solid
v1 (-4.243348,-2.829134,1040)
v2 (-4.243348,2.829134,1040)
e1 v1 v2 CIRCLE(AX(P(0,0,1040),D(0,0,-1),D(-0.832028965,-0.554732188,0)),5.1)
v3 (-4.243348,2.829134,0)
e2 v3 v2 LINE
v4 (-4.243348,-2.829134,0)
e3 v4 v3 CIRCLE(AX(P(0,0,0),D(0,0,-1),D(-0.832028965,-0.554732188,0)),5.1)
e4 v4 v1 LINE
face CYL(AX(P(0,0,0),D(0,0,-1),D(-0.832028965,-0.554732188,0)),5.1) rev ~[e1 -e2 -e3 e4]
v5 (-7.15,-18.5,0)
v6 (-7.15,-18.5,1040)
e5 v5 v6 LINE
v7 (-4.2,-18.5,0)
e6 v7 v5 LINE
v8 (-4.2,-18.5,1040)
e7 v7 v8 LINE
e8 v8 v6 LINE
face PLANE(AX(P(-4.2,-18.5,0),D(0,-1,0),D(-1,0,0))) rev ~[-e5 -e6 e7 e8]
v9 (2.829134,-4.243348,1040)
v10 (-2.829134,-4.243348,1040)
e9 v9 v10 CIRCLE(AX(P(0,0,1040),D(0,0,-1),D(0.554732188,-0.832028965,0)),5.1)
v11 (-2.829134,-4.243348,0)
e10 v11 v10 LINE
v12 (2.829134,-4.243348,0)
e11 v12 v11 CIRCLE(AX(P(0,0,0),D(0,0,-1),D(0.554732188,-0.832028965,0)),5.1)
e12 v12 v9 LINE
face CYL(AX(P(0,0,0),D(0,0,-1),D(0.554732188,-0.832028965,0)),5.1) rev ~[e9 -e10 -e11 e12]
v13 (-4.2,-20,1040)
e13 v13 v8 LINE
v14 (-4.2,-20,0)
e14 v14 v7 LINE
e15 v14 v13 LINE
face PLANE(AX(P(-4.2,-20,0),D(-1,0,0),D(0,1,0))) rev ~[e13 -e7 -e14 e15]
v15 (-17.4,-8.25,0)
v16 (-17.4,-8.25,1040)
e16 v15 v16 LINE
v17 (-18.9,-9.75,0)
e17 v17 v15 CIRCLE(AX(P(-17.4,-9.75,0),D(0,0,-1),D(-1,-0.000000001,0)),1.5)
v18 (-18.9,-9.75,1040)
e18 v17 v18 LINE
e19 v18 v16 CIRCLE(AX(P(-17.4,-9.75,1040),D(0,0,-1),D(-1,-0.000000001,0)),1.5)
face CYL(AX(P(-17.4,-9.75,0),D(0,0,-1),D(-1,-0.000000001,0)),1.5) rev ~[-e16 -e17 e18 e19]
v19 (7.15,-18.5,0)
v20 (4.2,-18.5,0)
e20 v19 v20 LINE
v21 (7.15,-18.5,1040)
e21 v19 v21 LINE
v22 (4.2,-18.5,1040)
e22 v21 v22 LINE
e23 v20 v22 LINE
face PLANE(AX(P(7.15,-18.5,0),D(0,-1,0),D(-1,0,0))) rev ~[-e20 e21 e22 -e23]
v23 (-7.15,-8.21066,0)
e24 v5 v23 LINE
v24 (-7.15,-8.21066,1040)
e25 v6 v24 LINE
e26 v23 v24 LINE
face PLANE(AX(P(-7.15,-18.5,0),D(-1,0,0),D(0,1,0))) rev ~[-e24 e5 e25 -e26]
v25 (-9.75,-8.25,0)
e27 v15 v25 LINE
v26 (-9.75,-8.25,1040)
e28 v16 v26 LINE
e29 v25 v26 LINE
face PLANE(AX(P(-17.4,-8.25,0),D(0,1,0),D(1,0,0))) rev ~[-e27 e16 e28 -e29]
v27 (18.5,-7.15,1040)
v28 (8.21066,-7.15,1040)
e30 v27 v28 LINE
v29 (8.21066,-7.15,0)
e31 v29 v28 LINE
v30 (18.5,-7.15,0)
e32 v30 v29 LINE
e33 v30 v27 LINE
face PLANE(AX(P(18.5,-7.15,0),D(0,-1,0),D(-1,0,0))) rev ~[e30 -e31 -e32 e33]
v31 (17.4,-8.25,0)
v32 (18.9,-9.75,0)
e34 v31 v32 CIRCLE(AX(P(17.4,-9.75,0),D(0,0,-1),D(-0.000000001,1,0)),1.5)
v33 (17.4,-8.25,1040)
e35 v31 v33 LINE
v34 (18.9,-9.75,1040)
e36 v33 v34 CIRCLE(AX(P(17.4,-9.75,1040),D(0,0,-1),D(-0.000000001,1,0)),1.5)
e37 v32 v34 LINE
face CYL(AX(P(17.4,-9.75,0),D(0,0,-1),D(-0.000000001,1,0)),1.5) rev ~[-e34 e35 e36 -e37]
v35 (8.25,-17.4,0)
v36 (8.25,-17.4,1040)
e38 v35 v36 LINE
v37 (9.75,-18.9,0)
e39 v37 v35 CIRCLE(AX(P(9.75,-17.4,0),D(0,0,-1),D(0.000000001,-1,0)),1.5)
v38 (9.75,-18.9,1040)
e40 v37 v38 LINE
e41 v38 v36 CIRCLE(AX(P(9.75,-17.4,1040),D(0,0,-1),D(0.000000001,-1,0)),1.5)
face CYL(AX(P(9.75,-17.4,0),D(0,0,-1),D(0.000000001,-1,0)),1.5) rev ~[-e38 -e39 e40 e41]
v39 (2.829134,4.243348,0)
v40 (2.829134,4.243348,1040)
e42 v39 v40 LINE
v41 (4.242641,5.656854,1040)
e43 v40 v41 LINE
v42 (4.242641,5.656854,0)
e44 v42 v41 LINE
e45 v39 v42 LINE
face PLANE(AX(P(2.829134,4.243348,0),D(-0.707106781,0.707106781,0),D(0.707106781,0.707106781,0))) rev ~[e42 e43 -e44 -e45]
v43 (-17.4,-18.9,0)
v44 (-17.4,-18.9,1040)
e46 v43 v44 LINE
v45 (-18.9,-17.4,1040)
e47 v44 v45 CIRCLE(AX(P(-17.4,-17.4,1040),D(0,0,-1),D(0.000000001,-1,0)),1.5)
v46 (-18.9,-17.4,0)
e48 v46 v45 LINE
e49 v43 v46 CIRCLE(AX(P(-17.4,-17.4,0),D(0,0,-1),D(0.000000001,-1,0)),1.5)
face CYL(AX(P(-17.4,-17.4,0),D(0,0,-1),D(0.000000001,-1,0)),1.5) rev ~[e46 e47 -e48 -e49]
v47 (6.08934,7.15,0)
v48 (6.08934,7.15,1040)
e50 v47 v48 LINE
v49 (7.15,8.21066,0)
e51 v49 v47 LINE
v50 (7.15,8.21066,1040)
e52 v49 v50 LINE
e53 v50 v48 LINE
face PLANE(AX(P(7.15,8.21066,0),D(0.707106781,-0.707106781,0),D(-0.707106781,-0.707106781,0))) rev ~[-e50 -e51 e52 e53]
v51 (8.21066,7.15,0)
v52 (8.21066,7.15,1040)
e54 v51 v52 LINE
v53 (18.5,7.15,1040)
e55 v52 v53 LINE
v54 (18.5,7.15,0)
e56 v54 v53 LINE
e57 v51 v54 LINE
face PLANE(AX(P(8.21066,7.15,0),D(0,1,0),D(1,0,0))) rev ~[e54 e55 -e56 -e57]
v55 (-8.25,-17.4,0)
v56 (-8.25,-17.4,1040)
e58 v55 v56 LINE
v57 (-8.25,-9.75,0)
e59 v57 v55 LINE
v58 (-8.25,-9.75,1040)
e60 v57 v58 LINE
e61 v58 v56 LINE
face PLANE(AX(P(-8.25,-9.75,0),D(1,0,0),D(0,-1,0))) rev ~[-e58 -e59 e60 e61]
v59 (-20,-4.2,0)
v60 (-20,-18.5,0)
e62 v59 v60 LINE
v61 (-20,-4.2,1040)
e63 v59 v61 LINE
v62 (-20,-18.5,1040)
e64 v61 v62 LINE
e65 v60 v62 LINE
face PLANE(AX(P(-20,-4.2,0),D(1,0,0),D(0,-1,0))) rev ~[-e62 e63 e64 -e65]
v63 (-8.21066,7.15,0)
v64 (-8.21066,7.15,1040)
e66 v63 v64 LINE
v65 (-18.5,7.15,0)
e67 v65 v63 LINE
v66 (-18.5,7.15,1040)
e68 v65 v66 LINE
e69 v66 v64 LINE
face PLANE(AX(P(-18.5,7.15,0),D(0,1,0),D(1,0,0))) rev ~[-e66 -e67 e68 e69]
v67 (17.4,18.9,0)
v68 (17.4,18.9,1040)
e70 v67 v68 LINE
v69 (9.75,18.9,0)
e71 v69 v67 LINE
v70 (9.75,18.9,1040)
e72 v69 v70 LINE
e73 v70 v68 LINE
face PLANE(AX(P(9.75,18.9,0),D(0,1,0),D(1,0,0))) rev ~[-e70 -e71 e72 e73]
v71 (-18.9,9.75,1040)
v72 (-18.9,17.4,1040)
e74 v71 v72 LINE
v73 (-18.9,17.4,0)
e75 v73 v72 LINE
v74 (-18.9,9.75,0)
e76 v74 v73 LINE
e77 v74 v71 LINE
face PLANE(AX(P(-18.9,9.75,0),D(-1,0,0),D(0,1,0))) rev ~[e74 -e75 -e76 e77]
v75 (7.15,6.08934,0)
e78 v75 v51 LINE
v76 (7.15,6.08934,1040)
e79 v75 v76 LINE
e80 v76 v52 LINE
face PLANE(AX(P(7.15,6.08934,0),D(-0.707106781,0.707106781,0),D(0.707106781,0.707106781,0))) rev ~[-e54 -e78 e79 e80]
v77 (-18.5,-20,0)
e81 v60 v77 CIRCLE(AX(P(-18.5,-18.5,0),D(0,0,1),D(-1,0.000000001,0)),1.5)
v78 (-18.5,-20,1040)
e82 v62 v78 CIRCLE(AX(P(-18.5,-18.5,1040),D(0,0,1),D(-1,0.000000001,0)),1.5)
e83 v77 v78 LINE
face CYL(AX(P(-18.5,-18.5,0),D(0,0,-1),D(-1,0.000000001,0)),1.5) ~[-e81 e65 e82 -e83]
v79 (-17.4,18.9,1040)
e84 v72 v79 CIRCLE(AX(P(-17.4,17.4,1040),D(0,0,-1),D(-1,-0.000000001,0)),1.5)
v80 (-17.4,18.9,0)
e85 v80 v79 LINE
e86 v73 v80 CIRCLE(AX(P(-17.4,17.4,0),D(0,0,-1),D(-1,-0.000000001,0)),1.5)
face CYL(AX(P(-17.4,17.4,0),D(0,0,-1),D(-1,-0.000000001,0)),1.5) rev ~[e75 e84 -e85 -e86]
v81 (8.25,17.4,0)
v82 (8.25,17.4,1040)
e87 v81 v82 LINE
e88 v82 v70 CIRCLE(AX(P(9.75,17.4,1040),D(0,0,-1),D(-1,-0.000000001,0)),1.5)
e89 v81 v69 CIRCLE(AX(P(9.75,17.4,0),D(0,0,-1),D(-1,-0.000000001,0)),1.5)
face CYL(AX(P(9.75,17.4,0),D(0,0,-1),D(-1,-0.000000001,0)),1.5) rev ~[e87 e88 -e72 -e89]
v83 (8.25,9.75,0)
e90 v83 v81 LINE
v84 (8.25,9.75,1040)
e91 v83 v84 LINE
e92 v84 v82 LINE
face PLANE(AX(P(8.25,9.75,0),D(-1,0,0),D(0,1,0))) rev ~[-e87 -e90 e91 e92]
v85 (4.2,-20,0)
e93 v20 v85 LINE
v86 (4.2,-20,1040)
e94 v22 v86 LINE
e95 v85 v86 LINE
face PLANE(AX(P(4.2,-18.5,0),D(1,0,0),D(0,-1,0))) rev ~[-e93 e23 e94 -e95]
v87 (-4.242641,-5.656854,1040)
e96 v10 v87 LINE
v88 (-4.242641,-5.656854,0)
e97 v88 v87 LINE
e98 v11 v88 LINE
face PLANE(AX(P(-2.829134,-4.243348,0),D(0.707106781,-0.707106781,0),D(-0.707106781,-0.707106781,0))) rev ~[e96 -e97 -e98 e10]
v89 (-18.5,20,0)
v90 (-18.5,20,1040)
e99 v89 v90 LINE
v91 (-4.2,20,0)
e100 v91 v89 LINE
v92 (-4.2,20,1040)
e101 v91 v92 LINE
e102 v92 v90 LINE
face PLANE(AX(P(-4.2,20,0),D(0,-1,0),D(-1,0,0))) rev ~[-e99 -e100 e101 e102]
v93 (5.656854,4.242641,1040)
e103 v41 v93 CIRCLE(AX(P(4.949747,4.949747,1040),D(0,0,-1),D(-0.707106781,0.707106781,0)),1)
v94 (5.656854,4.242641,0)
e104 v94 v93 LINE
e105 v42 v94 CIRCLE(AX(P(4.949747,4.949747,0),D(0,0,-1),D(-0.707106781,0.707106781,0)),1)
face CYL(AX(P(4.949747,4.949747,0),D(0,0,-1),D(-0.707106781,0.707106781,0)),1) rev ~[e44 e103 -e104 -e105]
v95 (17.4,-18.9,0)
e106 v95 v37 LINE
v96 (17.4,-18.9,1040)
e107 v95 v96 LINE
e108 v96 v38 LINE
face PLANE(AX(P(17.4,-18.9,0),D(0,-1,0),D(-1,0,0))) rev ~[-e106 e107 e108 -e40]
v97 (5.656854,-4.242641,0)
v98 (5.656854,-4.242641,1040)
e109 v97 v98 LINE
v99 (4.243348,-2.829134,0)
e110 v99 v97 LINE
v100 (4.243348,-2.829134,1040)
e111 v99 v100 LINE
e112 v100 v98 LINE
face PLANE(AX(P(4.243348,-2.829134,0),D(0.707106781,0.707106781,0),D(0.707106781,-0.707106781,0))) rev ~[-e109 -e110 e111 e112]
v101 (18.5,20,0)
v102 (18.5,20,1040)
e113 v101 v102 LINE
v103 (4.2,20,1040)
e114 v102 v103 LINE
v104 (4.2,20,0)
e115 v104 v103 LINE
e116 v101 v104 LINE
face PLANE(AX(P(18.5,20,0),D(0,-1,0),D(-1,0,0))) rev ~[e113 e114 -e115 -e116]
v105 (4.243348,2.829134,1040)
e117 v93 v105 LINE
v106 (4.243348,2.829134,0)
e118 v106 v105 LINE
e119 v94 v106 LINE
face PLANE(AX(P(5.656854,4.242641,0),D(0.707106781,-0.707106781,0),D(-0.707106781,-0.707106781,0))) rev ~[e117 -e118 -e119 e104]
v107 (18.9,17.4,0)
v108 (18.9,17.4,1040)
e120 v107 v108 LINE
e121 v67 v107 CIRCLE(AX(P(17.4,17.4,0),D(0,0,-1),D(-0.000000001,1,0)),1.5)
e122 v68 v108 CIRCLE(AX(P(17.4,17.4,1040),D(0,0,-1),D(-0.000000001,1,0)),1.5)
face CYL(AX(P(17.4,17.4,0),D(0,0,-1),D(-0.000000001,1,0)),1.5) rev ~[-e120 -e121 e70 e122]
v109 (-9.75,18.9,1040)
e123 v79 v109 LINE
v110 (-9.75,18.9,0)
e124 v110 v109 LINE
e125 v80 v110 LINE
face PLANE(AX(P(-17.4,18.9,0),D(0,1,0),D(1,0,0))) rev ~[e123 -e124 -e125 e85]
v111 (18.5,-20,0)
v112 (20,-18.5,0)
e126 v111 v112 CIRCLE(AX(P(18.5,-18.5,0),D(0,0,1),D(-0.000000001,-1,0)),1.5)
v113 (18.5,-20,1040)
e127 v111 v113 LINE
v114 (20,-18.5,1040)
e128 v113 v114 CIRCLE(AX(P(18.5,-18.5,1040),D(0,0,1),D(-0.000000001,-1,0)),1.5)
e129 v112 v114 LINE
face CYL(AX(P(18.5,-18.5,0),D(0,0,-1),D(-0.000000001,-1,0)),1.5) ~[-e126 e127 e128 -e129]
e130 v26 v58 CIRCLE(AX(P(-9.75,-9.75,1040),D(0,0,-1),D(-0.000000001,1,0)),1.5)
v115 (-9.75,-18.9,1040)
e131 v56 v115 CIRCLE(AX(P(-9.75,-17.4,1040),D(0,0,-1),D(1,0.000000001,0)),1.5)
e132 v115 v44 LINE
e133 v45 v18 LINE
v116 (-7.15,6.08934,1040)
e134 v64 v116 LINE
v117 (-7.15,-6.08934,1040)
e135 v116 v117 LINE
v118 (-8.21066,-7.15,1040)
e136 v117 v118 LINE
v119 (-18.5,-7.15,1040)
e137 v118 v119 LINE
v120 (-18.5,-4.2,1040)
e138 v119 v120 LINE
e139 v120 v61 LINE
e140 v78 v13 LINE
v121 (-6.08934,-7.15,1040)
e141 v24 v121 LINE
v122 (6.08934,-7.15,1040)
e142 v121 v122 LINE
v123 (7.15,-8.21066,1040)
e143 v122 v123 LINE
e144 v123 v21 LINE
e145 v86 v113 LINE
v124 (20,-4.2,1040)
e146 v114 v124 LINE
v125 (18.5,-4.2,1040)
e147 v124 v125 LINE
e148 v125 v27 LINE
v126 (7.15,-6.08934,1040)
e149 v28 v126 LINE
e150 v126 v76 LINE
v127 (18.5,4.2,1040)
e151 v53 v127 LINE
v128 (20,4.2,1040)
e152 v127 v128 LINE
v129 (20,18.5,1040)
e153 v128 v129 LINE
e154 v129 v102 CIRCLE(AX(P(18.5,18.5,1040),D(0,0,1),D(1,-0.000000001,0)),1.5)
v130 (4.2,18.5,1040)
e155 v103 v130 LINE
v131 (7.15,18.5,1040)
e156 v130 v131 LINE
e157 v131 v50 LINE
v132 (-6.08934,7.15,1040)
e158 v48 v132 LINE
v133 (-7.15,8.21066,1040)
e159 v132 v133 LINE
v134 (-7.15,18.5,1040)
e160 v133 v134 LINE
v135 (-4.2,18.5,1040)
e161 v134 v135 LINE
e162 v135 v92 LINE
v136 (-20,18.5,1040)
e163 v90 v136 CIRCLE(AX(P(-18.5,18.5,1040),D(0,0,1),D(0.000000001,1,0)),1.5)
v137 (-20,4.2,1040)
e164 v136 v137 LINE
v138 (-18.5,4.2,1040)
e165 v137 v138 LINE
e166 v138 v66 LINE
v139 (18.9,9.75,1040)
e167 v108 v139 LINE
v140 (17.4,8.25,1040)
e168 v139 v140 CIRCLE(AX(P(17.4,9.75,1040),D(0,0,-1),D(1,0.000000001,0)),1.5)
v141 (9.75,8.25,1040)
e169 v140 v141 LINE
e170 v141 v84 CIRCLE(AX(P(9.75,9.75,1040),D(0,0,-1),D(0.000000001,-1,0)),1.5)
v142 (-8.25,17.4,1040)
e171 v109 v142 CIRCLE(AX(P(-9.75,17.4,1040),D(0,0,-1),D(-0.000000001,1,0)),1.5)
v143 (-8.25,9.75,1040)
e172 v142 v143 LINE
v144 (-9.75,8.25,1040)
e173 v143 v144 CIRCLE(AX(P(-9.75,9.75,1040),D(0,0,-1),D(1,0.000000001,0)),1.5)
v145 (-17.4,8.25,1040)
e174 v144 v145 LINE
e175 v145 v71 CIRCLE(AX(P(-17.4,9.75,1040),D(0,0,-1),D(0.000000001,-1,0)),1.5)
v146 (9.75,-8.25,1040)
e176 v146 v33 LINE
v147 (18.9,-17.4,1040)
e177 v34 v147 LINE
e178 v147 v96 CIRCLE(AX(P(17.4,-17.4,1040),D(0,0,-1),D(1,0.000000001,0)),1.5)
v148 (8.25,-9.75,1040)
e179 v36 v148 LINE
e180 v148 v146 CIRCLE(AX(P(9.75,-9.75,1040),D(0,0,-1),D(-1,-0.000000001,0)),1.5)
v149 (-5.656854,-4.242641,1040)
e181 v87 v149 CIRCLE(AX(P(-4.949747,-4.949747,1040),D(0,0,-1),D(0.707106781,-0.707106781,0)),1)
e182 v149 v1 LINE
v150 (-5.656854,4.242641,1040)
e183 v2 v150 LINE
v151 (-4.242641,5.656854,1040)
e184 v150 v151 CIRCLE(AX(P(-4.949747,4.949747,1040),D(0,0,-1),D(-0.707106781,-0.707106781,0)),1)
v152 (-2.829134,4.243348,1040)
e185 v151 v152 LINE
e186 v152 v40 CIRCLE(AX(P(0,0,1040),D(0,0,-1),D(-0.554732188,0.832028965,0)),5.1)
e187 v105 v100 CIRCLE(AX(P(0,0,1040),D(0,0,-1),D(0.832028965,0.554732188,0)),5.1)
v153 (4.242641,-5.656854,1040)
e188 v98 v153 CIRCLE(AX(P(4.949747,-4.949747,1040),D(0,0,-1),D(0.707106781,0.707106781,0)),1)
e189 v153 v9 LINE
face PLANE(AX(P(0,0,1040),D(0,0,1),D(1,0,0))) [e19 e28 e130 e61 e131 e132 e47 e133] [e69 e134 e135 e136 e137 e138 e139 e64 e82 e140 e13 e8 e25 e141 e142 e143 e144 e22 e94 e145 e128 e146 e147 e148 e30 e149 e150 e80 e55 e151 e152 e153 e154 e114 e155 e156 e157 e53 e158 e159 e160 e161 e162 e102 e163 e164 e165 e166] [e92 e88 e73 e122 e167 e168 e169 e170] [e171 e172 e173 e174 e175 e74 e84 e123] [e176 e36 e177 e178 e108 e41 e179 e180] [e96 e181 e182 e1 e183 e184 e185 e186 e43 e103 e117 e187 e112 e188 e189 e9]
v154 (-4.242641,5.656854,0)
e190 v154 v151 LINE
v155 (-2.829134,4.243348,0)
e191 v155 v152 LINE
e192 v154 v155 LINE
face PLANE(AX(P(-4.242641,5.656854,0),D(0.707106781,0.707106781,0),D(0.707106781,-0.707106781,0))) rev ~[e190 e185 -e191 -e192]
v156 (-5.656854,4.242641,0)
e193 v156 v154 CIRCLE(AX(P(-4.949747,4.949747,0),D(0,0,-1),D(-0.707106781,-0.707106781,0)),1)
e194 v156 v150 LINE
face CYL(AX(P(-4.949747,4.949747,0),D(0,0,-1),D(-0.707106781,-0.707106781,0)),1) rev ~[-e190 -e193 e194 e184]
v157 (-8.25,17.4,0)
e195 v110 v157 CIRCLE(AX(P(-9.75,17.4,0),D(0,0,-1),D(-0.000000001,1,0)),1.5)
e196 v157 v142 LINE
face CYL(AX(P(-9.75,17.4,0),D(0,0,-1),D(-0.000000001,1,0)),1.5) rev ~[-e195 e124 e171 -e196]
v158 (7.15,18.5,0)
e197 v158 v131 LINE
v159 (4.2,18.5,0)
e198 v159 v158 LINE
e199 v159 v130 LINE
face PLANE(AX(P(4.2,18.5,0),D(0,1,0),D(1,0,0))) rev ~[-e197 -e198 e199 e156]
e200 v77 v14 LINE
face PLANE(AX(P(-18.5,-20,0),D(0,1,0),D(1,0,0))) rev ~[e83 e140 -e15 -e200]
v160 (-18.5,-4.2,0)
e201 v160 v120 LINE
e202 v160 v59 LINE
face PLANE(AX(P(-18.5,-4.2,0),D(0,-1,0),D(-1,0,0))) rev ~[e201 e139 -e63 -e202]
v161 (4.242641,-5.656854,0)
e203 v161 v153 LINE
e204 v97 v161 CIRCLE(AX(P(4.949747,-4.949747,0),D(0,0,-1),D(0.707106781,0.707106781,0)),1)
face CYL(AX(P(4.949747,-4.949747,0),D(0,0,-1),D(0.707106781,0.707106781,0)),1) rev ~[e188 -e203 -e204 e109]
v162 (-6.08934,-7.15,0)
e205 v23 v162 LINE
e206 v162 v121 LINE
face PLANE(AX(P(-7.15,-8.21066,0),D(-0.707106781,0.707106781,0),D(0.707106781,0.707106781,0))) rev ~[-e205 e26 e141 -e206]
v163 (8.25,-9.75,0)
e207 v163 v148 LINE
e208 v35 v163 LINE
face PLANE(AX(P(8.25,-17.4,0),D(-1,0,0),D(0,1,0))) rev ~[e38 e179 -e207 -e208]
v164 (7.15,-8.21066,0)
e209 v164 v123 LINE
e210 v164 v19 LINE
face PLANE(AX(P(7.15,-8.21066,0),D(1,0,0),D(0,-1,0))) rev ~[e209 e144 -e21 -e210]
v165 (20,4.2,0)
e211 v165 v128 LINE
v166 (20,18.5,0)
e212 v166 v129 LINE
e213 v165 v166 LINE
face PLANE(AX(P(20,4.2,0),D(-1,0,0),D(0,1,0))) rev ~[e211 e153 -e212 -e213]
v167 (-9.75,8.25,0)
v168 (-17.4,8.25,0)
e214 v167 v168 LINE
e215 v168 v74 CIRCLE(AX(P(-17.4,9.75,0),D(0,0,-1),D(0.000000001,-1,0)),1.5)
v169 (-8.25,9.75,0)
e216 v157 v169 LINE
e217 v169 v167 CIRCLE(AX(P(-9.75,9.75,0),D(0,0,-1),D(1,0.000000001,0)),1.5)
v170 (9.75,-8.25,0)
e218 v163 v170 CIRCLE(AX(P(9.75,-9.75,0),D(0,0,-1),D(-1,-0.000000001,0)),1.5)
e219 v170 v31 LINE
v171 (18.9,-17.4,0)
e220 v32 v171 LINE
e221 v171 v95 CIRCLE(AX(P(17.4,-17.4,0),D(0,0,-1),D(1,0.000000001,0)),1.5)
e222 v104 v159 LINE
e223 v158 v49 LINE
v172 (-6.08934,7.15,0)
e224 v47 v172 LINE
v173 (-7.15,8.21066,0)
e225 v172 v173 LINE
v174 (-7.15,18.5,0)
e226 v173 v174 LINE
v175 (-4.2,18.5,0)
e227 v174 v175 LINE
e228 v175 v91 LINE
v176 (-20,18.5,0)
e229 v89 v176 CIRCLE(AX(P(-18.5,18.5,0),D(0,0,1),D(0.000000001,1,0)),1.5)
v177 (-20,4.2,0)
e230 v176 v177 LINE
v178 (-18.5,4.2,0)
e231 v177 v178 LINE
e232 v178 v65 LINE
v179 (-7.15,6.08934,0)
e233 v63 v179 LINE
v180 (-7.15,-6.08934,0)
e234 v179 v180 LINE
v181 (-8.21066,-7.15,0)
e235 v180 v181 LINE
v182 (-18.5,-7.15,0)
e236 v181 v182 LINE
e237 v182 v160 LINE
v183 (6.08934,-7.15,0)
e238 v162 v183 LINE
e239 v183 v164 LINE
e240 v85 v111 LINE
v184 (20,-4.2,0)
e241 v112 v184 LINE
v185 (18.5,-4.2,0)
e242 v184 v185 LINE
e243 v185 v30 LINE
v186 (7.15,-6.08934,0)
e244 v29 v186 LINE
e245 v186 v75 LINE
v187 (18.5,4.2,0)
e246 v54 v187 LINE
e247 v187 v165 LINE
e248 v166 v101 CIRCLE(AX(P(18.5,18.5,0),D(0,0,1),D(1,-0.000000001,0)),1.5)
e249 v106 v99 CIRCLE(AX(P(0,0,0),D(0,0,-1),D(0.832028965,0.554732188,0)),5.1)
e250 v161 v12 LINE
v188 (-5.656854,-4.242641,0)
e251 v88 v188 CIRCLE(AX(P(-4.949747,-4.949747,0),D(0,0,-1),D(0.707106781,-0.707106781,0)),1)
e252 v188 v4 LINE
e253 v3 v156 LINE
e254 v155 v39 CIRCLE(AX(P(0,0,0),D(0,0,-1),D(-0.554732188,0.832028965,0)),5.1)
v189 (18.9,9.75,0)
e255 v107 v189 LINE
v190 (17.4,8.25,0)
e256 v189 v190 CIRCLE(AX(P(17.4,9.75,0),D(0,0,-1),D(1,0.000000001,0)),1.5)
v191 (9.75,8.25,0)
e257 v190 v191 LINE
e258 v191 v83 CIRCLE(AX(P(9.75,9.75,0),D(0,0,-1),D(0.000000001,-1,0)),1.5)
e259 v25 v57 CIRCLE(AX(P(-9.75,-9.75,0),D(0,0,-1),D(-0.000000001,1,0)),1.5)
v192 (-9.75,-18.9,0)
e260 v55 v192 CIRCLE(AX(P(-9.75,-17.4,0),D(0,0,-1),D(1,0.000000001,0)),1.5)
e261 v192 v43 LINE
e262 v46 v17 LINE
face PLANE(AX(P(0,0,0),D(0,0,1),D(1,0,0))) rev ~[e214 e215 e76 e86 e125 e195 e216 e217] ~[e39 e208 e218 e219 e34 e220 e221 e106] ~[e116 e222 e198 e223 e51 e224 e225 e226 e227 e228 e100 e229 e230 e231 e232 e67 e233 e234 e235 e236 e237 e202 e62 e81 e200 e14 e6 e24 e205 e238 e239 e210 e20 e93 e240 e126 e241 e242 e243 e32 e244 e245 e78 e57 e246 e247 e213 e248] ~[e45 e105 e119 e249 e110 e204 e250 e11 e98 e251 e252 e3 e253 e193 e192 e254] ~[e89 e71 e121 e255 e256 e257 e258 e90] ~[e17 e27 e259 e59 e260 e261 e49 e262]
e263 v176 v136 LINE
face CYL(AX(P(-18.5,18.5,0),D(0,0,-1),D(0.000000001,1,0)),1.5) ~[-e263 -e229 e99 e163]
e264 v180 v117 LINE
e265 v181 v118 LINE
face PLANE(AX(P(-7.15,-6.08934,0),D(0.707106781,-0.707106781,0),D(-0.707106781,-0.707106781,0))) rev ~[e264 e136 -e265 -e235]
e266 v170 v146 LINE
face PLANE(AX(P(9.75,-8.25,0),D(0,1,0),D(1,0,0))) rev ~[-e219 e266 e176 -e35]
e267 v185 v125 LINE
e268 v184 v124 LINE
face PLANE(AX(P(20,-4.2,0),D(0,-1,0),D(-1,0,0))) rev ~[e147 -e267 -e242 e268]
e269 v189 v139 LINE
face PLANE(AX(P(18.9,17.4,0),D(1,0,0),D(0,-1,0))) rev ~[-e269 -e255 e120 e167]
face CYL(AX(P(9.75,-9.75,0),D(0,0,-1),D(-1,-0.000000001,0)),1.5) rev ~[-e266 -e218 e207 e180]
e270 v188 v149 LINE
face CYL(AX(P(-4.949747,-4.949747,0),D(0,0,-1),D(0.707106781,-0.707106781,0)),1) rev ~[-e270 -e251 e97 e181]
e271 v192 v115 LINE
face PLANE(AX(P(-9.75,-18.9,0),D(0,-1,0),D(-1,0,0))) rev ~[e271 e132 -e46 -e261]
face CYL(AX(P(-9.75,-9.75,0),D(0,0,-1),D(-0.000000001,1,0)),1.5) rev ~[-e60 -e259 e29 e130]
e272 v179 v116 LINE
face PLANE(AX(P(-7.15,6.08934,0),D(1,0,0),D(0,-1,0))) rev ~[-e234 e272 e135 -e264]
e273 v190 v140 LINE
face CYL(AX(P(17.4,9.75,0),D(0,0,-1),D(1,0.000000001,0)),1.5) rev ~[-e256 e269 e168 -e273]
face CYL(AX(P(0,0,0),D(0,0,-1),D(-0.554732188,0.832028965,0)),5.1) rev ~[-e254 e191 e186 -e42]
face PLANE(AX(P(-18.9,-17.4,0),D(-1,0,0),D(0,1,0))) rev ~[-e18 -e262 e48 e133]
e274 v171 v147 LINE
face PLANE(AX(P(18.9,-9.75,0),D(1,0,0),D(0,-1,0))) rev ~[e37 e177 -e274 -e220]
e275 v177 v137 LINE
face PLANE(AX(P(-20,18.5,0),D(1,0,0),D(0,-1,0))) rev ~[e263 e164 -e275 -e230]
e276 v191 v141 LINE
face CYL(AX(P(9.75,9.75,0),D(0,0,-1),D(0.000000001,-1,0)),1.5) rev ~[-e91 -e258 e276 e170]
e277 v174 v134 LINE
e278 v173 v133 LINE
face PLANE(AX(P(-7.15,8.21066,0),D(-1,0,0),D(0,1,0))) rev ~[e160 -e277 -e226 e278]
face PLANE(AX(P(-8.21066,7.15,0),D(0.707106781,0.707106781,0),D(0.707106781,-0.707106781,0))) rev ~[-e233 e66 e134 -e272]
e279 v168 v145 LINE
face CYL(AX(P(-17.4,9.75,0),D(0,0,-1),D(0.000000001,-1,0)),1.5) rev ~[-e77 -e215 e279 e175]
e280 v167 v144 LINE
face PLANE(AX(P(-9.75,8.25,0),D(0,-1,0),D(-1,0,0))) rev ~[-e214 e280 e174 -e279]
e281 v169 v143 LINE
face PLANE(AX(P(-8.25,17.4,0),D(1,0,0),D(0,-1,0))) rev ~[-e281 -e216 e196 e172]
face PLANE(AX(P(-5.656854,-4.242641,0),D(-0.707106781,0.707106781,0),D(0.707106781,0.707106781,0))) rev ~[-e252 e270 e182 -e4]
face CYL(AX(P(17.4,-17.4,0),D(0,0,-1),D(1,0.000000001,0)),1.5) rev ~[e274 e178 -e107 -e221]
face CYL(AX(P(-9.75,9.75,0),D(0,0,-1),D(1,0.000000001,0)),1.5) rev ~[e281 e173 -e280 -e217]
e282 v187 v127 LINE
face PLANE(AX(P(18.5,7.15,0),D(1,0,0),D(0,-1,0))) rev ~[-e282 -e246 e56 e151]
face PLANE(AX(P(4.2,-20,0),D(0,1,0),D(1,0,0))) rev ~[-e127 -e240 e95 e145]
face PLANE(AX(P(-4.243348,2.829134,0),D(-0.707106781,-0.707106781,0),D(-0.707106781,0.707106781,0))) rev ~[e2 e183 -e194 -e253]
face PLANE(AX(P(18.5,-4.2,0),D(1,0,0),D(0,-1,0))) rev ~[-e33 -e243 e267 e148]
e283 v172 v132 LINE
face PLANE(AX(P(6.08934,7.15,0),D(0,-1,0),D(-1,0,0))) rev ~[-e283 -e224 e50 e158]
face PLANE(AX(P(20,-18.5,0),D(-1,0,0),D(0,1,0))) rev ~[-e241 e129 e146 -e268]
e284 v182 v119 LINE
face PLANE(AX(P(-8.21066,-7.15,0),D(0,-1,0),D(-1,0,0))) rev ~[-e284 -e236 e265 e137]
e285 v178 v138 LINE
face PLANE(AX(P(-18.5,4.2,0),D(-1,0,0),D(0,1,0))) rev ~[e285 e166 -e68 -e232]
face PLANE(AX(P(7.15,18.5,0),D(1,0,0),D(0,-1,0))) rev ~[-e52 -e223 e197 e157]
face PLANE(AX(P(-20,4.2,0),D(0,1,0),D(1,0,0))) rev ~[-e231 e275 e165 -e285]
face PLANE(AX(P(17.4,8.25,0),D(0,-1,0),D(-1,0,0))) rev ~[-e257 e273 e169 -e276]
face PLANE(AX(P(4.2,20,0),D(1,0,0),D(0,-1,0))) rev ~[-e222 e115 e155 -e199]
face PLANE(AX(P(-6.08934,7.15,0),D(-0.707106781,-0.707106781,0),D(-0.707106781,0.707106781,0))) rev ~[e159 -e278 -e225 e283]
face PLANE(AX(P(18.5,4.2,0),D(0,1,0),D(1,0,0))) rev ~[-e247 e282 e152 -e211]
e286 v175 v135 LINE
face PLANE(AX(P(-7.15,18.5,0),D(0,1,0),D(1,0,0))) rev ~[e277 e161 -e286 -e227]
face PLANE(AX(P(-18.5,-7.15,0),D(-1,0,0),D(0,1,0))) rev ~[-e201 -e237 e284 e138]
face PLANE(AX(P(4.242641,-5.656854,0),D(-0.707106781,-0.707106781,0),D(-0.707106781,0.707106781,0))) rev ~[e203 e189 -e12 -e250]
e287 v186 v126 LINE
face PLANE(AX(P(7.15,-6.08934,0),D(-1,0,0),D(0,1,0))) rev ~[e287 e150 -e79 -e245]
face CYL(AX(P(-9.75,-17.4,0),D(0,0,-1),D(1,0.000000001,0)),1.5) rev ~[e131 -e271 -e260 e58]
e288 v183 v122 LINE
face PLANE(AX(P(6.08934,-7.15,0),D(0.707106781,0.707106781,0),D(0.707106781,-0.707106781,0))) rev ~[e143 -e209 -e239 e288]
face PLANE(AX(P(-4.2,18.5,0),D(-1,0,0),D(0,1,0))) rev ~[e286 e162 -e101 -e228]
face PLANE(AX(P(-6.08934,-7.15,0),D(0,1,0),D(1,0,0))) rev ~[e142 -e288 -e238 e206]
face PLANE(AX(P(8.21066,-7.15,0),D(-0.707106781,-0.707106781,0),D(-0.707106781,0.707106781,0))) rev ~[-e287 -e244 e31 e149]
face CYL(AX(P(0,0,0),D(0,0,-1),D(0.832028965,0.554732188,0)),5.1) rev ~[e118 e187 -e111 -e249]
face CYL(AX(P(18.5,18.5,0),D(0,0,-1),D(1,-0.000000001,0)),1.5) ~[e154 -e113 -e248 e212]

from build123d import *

# Parameters (mm, degrees)
EXTRUDE_1_DEPTH = 1040


with BuildPart() as part:
    # 草图1 → 凸台-拉伸1 (new body)
    with BuildSketch(Plane.XY):
        with BuildLine():
            Line((-6.089339828, -7.15), (6.089339828, -7.15))
            Line((6.089339828, -7.15), (7.15, -8.210660172))
            Line((7.15, -8.210660172), (7.15, -18.5))
            Line((7.15, -18.5), (4.2, -18.5))
            Line((4.2, -18.5), (4.2, -20))
            Line((4.2, -20), (18.5, -20))
            ThreePointArc((18.5, -20), (19.560660172, -19.560660172), (20, -18.5))
            Line((20, -18.5), (20, -4.2))
            Line((20, -4.2), (18.5, -4.2))
            Line((18.5, -4.2), (18.5, -7.15))
            Line((18.5, -7.15), (8.210660172, -7.15))
            Line((8.210660172, -7.15), (7.15, -6.089339828))
            Line((7.15, -6.089339828), (7.15, 6.089339828))
            Line((7.15, 6.089339828), (8.210660172, 7.15))
            Line((8.210660172, 7.15), (18.5, 7.15))
            Line((18.5, 7.15), (18.5, 4.2))
            Line((18.5, 4.2), (20, 4.2))
            Line((20, 4.2), (20, 18.5))
            ThreePointArc((20, 18.5), (19.560660172, 19.560660172), (18.5, 20))
            Line((18.5, 20), (4.2, 20))
            Line((4.2, 20), (4.2, 18.5))
            Line((4.2, 18.5), (7.15, 18.5))
            Line((7.15, 18.5), (7.15, 8.210660172))
            Line((7.15, 8.210660172), (6.089339828, 7.15))
            Line((6.089339828, 7.15), (-6.089339828, 7.15))
            Line((-6.089339828, 7.15), (-7.15, 8.210660172))
            Line((-7.15, 8.210660172), (-7.15, 18.5))
            Line((-7.15, 18.5), (-4.2, 18.5))
            Line((-4.2, 18.5), (-4.2, 20))
            Line((-4.2, 20), (-18.5, 20))
            ThreePointArc((-18.5, 20), (-19.560660172, 19.560660172), (-20, 18.5))
            Line((-20, 18.5), (-20, 4.2))
            Line((-20, 4.2), (-18.5, 4.2))
            Line((-18.5, 4.2), (-18.5, 7.15))
            Line((-18.5, 7.15), (-8.210660172, 7.15))
            Line((-8.210660172, 7.15), (-7.15, 6.089339828))
            Line((-7.15, 6.089339828), (-7.15, -6.089339828))
            Line((-7.15, -6.089339828), (-8.210660172, -7.15))
            Line((-8.210660172, -7.15), (-18.5, -7.15))
            Line((-18.5, -7.15), (-18.5, -4.2))
            Line((-18.5, -4.2), (-20, -4.2))
            Line((-20, -4.2), (-20, -18.5))
            ThreePointArc((-20, -18.5), (-19.560660172, -19.560660172), (-18.5, -20))
            Line((-18.5, -20), (-4.2, -20))
            Line((-4.2, -20), (-4.2, -18.5))
            Line((-4.2, -18.5), (-7.15, -18.5))
            Line((-7.15, -18.5), (-7.15, -8.210660172))
            Line((-7.15, -8.210660172), (-6.089339828, -7.15))
        make_face()
        with BuildLine():
            Line((17.4, 8.25), (9.75, 8.25))
            ThreePointArc((9.75, 8.25), (8.689339828, 8.689339828), (8.25, 9.75))
            Line((8.25, 9.75), (8.25, 17.4))
            ThreePointArc((8.25, 17.4), (8.689339828, 18.460660172), (9.75, 18.9))
            Line((9.75, 18.9), (17.4, 18.9))
            ThreePointArc((17.4, 18.9), (18.460660172, 18.460660172), (18.9, 17.4))
            Line((18.9, 17.4), (18.9, 9.75))
            ThreePointArc((18.9, 9.75), (18.460660172, 8.689339828), (17.4, 8.25))
        make_face(mode=Mode.SUBTRACT)
        with BuildLine():
            Line((-8.25, 17.4), (-8.25, 9.75))
            ThreePointArc((-8.25, 9.75), (-8.689339828, 8.689339828), (-9.75, 8.25))
            Line((-9.75, 8.25), (-17.4, 8.25))
            ThreePointArc((-17.4, 8.25), (-18.460660172, 8.689339828), (-18.9, 9.75))
            Line((-18.9, 9.75), (-18.9, 17.4))
            ThreePointArc((-18.9, 17.4), (-18.460660172, 18.460660172), (-17.4, 18.9))
            Line((-17.4, 18.9), (-9.75, 18.9))
            ThreePointArc((-9.75, 18.9), (-8.689339828, 18.460660172), (-8.25, 17.4))
        make_face(mode=Mode.SUBTRACT)
        with BuildLine():
            Line((-17.4, -8.25), (-9.75, -8.25))
            ThreePointArc((-9.75, -8.25), (-8.689339828, -8.689339828), (-8.25, -9.75))
            Line((-8.25, -9.75), (-8.25, -17.4))
            ThreePointArc((-8.25, -17.4), (-8.689339828, -18.460660172), (-9.75, -18.9))
            Line((-9.75, -18.9), (-17.4, -18.9))
            ThreePointArc((-17.4, -18.9), (-18.460660172, -18.460660172), (-18.9, -17.4))
            Line((-18.9, -17.4), (-18.9, -9.75))
            ThreePointArc((-18.9, -9.75), (-18.460660172, -8.689339828), (-17.4, -8.25))
        make_face(mode=Mode.SUBTRACT)
        with BuildLine():
            Line((8.25, -17.4), (8.25, -9.75))
            ThreePointArc((8.25, -9.75), (8.689339828, -8.689339828), (9.75, -8.25))
            Line((9.75, -8.25), (17.4, -8.25))
            ThreePointArc((17.4, -8.25), (18.460660172, -8.689339828), (18.9, -9.75))
            Line((18.9, -9.75), (18.9, -17.4))
            ThreePointArc((18.9, -17.4), (18.460660172, -18.460660172), (17.4, -18.9))
            Line((17.4, -18.9), (9.75, -18.9))
            ThreePointArc((9.75, -18.9), (8.689339828, -18.460660172), (8.25, -17.4))
        make_face(mode=Mode.SUBTRACT)
        with BuildLine():
            Line((-4.243347723, 2.829134161), (-5.656854249, 4.242640687))
            ThreePointArc((-5.656854249, 4.242640687), (-5.656854249, 5.656854249), (-4.242640687, 5.656854249))
            Line((-4.242640687, 5.656854249), (-2.829134161, 4.243347723))
            ThreePointArc((-2.829134161, 4.243347723), (0, 5.1), (2.829134161, 4.243347723))
            Line((2.829134161, 4.243347723), (4.242640687, 5.656854249))
            ThreePointArc((4.242640687, 5.656854249), (5.656854249, 5.656854249), (5.656854249, 4.242640687))
            Line((5.656854249, 4.242640687), (4.243347723, 2.829134161))
            ThreePointArc((4.243347723, 2.829134161), (5.1, 0), (4.243347723, -2.829134161))
            Line((4.243347723, -2.829134161), (5.656854249, -4.242640687))
            ThreePointArc((5.656854249, -4.242640687), (5.656854249, -5.656854249), (4.242640687, -5.656854249))
            Line((4.242640687, -5.656854249), (2.829134161, -4.243347723))
            ThreePointArc((2.829134161, -4.243347723), (0, -5.1), (-2.829134161, -4.243347723))
            Line((-2.829134161, -4.243347723), (-4.242640687, -5.656854249))
            ThreePointArc((-4.242640687, -5.656854249), (-5.656854249, -5.656854249), (-5.656854249, -4.242640687))
            Line((-5.656854249, -4.242640687), (-4.243347723, -2.829134161))
            ThreePointArc((-4.243347723, -2.829134161), (-5.1, 0), (-4.243347723, 2.829134161))
        make_face(mode=Mode.SUBTRACT)
    extrude(amount=EXTRUDE_1_DEPTH)


solid = part.part
